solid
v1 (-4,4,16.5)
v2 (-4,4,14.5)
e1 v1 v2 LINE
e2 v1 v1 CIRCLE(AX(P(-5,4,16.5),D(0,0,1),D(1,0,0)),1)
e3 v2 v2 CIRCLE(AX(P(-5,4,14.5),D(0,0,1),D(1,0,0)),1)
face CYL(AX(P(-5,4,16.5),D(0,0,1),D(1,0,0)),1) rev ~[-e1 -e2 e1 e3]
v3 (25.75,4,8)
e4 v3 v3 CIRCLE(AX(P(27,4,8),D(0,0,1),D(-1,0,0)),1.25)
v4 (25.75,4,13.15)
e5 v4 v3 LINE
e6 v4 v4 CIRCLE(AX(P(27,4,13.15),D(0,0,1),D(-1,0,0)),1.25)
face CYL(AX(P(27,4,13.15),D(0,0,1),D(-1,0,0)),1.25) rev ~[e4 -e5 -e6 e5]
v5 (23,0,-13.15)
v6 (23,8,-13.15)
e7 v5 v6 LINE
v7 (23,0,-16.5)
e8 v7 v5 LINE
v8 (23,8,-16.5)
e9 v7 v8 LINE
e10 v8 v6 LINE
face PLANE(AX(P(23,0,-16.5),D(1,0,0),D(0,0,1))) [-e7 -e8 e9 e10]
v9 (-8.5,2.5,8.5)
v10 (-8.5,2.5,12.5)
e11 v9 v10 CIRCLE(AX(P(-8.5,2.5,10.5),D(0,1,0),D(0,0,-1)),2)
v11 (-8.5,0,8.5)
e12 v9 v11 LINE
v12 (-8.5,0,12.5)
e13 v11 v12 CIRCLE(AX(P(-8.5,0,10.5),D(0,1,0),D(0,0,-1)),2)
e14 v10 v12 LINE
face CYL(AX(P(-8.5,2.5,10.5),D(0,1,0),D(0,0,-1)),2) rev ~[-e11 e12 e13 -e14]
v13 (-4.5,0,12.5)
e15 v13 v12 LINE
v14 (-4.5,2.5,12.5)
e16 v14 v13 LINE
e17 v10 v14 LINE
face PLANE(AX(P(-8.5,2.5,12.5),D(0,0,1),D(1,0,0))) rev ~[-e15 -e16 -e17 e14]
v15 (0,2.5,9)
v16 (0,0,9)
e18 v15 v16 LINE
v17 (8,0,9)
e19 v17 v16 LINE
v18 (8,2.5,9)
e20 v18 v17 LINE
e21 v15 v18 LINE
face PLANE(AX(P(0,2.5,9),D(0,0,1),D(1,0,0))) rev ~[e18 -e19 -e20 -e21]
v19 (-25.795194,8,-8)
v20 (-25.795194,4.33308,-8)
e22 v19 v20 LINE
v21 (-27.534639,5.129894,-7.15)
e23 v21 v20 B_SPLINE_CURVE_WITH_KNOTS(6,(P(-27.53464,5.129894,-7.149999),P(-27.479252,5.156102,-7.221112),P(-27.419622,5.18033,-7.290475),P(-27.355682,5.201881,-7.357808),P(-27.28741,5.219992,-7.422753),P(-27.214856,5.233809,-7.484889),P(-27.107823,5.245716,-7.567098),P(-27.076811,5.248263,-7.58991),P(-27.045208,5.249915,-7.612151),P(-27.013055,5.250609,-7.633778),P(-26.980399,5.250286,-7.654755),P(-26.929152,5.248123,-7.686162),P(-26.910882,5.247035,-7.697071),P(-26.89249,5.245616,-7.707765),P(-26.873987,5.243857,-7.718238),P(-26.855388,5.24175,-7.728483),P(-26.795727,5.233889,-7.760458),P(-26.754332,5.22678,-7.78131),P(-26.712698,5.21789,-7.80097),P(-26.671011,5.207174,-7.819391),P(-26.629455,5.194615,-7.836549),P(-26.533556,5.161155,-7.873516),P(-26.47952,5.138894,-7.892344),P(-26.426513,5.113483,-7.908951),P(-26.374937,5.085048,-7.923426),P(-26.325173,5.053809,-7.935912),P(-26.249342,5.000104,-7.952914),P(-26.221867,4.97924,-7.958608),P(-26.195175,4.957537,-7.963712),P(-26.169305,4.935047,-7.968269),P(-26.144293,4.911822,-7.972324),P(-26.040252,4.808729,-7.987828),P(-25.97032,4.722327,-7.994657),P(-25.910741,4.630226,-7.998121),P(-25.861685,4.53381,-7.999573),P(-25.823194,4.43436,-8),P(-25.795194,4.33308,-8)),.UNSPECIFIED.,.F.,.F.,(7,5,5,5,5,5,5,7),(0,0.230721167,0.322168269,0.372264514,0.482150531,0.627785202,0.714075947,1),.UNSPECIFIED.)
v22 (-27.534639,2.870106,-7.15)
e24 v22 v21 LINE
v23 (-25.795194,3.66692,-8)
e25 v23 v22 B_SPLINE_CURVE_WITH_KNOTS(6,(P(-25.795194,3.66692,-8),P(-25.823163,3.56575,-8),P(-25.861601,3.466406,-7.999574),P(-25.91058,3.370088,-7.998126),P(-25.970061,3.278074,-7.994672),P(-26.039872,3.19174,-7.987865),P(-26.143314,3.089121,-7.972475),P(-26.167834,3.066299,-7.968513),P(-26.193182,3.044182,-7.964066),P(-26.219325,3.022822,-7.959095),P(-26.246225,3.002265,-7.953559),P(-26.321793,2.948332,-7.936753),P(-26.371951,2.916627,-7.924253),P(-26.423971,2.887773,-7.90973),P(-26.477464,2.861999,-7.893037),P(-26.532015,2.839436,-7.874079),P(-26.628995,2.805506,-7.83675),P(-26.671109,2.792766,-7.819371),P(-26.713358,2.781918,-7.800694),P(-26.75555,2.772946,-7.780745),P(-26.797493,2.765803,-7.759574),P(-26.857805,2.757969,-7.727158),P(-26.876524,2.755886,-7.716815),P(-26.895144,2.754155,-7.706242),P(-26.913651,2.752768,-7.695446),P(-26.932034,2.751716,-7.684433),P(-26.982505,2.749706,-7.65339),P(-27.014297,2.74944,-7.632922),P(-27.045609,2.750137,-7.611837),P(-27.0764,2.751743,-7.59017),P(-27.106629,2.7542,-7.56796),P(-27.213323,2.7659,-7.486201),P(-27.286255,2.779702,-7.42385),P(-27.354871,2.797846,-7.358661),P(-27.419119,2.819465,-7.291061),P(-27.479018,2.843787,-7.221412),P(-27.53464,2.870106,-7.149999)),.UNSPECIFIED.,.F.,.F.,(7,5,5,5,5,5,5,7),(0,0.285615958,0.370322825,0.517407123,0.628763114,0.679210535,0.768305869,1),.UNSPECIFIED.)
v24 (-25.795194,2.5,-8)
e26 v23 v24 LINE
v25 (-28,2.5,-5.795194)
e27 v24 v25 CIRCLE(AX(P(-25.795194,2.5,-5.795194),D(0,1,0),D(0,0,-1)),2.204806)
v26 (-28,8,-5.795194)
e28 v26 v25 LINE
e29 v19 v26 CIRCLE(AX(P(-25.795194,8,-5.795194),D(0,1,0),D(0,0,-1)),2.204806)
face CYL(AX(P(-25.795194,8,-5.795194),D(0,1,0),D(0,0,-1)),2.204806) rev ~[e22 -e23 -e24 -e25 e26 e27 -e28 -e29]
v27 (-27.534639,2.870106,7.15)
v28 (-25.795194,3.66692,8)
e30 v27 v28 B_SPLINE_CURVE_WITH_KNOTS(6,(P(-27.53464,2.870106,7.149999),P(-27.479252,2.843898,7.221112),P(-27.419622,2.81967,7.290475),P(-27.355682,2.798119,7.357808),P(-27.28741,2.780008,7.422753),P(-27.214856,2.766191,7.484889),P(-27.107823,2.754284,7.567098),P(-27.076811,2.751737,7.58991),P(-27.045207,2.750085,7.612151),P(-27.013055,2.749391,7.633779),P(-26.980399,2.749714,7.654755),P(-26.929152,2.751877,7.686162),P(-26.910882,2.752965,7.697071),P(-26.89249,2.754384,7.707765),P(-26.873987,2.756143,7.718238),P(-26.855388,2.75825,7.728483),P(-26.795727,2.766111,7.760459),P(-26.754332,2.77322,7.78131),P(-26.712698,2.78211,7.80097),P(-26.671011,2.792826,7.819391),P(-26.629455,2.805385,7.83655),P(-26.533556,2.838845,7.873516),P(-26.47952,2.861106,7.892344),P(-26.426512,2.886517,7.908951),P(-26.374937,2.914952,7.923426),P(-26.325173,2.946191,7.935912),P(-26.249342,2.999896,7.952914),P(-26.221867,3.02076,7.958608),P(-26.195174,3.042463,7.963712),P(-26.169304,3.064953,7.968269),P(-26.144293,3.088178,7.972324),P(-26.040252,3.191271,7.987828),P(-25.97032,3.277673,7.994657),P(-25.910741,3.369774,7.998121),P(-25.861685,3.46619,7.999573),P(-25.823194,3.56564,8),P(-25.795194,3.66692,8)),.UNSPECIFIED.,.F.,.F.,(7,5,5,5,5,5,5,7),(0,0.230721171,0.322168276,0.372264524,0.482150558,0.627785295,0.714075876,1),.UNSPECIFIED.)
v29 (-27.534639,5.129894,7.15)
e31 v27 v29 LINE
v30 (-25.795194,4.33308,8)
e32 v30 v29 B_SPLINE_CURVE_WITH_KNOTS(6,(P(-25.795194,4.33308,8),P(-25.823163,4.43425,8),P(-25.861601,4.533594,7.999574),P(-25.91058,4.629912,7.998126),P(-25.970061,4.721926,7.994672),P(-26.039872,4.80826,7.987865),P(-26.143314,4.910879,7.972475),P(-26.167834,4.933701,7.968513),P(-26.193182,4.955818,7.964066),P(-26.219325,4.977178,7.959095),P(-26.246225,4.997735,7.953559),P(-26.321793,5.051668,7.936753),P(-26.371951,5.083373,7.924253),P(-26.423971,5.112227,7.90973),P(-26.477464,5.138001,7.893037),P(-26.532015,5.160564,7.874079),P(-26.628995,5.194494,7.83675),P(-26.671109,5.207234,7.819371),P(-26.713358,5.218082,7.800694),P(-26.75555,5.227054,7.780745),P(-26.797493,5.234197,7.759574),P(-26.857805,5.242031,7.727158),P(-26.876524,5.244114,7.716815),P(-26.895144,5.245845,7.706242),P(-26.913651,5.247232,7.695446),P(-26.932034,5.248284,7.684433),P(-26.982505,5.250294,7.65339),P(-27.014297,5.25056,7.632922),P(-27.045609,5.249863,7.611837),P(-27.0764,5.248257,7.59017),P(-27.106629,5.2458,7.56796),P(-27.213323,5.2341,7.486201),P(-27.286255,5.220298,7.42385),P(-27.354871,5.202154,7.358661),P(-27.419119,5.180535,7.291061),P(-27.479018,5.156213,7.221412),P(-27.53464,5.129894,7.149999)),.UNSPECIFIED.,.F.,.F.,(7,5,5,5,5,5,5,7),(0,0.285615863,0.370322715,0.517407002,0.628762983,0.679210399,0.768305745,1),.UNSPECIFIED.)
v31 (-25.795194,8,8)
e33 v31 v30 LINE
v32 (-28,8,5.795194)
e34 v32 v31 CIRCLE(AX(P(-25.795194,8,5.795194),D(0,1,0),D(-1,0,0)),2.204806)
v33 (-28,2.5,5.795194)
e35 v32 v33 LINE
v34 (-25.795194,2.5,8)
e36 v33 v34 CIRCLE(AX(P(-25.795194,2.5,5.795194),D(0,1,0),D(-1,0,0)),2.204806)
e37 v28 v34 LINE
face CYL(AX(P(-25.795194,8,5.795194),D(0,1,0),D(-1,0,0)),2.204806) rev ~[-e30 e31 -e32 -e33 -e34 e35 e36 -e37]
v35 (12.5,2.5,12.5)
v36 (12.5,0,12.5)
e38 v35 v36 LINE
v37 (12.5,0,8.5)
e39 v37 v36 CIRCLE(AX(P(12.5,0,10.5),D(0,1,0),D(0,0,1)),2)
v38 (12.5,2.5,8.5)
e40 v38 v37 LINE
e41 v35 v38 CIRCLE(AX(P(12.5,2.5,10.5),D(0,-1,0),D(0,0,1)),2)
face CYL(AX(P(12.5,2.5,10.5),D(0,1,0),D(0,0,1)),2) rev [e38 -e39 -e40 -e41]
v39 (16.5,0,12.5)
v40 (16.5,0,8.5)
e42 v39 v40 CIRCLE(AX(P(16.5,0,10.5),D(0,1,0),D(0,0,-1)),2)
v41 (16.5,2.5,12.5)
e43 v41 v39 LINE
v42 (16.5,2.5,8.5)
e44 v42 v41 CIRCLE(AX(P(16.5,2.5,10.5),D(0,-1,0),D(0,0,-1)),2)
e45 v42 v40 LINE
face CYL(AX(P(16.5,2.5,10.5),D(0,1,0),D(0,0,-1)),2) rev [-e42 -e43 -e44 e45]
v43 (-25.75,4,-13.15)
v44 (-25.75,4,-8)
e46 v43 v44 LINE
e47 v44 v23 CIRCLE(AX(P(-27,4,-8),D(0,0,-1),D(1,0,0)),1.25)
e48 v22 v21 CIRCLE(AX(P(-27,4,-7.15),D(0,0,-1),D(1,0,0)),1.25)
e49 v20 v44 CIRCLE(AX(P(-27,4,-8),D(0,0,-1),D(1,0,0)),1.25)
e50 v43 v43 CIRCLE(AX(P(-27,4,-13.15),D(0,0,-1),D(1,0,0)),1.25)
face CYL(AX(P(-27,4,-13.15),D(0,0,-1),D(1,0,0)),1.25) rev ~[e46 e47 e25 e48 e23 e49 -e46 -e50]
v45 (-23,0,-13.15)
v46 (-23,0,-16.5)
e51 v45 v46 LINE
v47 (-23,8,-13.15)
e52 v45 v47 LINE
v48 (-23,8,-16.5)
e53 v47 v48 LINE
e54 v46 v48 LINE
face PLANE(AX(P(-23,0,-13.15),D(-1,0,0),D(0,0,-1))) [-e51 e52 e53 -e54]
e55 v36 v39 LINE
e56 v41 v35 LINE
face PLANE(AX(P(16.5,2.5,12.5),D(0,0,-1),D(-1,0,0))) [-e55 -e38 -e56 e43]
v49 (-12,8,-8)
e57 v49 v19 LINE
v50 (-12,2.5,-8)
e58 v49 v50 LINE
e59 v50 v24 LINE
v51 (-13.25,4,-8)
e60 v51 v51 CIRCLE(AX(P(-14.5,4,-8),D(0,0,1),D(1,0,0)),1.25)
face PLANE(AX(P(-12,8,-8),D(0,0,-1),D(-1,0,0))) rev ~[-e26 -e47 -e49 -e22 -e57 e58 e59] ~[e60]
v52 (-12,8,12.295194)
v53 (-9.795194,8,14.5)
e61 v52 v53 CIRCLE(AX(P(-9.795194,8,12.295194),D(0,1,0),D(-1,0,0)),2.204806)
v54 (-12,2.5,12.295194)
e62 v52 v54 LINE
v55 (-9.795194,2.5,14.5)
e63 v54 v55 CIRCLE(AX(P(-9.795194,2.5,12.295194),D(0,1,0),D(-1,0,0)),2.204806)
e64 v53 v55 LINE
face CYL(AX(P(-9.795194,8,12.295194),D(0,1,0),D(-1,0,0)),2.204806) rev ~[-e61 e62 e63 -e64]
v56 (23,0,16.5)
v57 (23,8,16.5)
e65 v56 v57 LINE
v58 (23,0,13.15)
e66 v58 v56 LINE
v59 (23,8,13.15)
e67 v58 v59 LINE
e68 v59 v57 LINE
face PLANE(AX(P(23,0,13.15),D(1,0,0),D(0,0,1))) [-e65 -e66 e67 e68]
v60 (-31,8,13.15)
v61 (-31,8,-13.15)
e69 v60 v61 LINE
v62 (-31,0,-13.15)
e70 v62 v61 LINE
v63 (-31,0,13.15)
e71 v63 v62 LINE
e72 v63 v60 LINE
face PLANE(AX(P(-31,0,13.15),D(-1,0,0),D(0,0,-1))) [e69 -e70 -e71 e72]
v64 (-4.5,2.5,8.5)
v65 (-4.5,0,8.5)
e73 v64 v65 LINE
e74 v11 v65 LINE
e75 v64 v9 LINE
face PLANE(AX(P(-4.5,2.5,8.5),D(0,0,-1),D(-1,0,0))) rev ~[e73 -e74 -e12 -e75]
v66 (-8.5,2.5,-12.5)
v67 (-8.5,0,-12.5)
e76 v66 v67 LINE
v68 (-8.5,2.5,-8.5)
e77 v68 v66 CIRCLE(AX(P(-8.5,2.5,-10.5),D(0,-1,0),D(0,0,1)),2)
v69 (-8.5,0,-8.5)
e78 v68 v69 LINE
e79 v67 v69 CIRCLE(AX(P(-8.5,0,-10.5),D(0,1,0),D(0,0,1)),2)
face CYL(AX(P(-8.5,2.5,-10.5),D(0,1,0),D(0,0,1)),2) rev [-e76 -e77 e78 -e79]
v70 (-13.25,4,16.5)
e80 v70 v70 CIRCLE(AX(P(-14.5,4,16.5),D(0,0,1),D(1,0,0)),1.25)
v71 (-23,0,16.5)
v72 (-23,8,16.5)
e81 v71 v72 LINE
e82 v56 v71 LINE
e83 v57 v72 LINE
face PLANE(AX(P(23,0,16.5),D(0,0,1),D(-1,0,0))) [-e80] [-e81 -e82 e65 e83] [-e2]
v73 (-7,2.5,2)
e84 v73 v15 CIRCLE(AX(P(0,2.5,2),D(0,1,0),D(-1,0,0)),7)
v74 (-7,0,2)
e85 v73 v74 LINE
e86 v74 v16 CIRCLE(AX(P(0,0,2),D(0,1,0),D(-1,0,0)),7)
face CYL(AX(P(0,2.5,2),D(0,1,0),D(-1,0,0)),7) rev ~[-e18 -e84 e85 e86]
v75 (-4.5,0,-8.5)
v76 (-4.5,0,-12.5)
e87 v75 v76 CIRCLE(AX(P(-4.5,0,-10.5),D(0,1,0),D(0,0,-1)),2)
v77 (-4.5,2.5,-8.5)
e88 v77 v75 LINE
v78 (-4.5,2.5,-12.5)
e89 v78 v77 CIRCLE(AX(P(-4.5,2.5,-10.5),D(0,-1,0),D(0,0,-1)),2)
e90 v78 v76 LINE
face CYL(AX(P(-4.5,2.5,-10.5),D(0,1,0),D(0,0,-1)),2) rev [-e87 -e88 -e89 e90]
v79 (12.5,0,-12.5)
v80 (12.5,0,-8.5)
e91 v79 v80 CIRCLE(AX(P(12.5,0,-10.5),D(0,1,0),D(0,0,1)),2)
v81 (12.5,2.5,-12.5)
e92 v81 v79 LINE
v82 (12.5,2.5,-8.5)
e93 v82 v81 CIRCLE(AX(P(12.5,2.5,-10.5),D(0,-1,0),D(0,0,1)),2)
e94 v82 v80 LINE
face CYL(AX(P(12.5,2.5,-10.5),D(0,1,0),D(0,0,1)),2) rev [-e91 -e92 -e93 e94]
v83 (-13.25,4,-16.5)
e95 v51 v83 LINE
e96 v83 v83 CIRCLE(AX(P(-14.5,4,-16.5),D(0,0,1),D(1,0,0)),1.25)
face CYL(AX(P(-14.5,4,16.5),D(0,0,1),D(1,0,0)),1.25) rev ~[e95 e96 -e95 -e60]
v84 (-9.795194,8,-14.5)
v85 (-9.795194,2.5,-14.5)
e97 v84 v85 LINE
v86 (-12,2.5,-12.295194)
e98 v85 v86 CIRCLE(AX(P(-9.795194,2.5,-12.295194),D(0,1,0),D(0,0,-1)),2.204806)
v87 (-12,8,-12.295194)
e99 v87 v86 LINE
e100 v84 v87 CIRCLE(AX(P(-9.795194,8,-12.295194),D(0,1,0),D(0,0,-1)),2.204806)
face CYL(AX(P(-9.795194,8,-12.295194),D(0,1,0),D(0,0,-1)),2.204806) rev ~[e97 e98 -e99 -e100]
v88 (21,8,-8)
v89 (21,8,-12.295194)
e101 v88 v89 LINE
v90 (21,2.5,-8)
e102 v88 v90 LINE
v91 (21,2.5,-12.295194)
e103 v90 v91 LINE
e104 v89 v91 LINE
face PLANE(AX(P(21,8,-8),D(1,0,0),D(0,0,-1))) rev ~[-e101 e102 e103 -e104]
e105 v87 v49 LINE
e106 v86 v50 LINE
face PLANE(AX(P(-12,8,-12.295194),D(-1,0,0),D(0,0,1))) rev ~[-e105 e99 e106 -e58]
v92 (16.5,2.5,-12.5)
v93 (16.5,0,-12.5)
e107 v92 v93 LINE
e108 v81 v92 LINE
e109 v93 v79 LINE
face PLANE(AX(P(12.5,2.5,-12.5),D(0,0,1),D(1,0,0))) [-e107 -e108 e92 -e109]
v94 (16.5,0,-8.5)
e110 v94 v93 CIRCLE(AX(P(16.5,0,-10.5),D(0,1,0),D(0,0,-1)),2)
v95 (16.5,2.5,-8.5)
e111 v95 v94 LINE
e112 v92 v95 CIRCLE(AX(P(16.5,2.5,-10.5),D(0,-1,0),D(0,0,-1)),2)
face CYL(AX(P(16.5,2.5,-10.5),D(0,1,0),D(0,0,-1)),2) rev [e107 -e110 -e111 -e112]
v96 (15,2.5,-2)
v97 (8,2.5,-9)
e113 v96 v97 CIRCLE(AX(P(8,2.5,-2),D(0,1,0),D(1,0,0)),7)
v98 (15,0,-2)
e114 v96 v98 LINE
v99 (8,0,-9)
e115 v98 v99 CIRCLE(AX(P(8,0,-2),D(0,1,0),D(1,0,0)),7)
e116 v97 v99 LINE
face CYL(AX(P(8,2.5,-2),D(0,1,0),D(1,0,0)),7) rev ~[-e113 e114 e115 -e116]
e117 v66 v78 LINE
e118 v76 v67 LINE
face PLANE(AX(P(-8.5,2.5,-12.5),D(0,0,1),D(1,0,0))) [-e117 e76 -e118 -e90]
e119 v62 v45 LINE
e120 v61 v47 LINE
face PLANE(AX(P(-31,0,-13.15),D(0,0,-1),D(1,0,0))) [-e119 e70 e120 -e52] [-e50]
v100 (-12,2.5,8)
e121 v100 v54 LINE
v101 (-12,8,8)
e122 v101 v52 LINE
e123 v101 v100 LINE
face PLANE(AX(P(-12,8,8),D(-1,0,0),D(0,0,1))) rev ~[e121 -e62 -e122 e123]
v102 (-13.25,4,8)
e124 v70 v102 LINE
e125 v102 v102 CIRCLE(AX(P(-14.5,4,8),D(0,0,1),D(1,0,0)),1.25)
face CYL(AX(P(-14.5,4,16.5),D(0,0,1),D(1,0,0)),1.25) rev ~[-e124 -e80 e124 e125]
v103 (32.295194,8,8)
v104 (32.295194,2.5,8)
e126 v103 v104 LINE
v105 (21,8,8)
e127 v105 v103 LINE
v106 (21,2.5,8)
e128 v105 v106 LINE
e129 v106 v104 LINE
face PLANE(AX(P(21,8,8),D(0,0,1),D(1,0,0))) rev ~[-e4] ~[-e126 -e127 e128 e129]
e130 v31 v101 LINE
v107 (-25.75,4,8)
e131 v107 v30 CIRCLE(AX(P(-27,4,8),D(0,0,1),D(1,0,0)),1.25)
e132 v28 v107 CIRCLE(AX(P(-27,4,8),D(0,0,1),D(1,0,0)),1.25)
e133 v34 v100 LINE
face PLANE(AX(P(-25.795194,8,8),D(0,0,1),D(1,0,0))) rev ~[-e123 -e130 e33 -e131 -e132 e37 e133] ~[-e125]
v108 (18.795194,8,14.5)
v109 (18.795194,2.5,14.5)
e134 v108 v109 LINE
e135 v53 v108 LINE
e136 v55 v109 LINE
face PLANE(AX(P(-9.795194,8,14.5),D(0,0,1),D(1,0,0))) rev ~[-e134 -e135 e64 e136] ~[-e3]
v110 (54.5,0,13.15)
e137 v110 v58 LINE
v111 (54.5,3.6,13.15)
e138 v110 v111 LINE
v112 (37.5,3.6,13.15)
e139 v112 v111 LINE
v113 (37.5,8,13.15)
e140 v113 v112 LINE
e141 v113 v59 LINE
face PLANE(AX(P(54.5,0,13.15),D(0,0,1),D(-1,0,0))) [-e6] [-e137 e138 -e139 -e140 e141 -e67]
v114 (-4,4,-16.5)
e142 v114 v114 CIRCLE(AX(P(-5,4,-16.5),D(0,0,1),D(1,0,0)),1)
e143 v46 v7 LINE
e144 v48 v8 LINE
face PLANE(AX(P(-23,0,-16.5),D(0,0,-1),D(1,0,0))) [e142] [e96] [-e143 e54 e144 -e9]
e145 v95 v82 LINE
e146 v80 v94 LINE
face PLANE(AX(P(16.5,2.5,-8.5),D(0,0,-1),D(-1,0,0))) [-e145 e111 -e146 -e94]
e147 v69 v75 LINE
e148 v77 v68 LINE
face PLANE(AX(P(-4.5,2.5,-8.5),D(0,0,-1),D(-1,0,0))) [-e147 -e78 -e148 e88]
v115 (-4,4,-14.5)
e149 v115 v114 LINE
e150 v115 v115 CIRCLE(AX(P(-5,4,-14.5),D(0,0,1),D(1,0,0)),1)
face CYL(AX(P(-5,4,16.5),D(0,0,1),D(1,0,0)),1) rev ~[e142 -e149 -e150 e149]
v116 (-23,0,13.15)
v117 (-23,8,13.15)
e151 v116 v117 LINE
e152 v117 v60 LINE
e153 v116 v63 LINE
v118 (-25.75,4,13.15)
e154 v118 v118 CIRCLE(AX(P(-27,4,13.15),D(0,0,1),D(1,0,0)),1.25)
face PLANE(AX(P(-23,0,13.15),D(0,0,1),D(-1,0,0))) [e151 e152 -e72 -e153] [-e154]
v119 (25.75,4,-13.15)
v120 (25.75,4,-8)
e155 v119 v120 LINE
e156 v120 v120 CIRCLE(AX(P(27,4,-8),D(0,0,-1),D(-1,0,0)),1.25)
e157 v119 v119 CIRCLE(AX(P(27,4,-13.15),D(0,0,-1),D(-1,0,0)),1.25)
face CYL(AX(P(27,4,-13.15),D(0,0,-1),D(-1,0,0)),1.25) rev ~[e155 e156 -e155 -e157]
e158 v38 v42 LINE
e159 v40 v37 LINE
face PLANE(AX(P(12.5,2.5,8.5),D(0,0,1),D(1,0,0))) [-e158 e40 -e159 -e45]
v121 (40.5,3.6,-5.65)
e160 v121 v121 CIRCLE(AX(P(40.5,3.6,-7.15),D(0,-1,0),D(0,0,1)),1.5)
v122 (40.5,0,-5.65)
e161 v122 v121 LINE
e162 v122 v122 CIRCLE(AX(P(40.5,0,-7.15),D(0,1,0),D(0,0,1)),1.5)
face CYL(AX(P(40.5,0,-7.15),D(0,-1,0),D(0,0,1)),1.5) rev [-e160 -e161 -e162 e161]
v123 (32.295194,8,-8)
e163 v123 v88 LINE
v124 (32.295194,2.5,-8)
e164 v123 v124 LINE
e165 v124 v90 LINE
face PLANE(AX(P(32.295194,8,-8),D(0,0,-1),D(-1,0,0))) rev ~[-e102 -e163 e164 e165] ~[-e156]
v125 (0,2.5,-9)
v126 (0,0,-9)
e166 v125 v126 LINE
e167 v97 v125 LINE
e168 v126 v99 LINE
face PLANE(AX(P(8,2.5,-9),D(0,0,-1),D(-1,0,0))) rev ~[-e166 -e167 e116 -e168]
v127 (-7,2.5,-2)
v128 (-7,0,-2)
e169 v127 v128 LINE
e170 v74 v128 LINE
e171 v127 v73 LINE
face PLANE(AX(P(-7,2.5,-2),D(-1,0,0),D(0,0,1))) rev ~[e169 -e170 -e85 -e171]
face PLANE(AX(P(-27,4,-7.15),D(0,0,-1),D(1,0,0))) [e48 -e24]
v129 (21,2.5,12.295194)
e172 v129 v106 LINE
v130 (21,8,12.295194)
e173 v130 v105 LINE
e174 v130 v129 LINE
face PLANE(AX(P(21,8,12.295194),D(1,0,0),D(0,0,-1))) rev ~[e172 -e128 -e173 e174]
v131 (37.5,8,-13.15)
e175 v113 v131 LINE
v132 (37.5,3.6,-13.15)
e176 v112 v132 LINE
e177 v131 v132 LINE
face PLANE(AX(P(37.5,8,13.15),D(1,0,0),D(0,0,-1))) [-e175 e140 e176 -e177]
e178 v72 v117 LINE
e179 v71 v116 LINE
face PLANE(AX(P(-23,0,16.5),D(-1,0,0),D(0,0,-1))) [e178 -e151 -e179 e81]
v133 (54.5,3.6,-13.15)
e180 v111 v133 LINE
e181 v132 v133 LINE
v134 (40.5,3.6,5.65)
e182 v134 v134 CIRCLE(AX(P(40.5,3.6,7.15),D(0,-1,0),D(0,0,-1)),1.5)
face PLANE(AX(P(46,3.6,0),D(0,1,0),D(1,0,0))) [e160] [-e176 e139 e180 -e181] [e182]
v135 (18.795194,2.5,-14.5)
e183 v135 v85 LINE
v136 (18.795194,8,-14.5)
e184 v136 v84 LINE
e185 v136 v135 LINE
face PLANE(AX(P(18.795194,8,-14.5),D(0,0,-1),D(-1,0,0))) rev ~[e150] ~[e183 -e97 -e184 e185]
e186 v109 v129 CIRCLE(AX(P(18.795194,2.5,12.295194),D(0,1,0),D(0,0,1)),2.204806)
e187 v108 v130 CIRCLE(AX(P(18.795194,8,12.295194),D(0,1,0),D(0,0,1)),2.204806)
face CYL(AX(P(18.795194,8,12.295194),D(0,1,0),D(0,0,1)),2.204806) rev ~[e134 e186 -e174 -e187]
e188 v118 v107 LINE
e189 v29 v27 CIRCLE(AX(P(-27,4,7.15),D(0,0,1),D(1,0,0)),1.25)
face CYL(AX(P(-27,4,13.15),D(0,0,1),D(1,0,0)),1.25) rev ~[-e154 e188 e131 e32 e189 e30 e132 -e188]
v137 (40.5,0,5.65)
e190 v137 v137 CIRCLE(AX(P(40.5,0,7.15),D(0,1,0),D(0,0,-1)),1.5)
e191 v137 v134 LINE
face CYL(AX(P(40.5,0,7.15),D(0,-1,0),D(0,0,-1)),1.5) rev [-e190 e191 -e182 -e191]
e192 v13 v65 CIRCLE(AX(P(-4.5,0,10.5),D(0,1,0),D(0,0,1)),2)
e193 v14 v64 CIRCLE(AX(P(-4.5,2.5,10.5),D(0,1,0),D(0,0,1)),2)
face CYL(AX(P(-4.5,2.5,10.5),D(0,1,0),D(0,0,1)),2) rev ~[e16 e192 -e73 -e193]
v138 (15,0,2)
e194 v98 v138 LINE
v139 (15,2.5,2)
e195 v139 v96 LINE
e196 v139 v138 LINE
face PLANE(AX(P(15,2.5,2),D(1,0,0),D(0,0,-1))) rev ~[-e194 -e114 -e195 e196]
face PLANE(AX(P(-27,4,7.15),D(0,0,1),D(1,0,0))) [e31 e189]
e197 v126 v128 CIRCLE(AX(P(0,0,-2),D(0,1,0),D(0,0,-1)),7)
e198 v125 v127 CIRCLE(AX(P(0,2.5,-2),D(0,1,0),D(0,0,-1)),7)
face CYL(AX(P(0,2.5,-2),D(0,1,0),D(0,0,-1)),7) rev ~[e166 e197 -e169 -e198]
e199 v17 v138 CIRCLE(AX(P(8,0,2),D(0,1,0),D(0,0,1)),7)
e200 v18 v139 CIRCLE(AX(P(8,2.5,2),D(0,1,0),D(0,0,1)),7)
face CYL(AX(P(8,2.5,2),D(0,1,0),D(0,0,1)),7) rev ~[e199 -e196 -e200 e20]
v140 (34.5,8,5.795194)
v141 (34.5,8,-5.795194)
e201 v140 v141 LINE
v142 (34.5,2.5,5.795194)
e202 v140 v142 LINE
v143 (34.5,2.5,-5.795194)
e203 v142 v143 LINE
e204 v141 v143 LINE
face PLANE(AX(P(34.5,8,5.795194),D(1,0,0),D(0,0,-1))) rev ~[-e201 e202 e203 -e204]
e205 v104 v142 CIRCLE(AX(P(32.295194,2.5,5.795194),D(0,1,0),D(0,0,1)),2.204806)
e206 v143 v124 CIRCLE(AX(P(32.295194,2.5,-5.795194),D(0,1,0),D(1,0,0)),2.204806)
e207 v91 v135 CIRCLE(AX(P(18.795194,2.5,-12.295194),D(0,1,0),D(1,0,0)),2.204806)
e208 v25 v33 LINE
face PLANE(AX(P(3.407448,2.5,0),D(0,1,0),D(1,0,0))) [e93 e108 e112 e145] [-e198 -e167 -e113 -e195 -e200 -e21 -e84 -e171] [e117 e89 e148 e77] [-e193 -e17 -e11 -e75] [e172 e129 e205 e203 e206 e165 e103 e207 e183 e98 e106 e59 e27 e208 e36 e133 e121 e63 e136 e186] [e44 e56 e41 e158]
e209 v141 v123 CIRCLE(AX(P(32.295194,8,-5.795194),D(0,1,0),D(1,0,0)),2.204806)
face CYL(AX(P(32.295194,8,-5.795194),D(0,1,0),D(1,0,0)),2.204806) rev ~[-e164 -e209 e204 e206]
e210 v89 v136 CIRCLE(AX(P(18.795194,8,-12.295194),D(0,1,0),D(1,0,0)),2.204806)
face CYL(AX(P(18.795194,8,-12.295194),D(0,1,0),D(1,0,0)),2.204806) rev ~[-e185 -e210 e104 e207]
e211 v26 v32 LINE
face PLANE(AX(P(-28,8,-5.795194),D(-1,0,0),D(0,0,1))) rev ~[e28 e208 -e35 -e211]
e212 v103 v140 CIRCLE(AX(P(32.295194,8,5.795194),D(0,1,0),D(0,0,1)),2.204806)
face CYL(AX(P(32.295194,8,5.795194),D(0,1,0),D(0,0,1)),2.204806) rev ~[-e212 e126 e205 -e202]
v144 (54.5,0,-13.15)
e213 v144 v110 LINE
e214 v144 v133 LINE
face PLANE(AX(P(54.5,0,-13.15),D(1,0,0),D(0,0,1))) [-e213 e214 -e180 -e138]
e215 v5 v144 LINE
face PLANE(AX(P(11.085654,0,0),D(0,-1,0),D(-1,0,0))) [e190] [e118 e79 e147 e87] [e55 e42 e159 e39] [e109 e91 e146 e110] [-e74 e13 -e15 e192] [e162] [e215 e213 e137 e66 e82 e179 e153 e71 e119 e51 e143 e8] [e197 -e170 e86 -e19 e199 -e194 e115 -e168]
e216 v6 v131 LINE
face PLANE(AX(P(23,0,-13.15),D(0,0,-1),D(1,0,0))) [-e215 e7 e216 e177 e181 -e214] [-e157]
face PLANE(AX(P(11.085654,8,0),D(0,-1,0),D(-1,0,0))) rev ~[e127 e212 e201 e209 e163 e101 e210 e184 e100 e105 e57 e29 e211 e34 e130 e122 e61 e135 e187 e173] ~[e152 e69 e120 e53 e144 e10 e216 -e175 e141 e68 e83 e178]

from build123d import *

# Parameters (mm, degrees)
SKETCH_1_R           = 1.5
EXTRUDE_1_DEPTH      = 8
SKETCH_2_W           = 17
SKETCH_2_H           = 26.3
CUT_EXTRUDE_1_DEPTH  = 4.4
CUT_EXTRUDE_3_DEPTH  = 5.5
CUT_EXTRUDE_4_DEPTH  = 3.5
CUT_EXTRUDE_5_DEPTH  = 3.5
SKETCH_9_R           = 1.25
CUT_EXTRUDE_6_DEPTH  = 6
SKETCH_10_R          = 1.25
CUT_EXTRUDE_7_DEPTH  = 6
SKETCH_11_R          = 1.25
CUT_EXTRUDE_8_DEPTH  = 6
SKETCH_12_R          = 1.25
CUT_EXTRUDE_9_DEPTH  = 6
SKETCH_13_R          = 1
SKETCH_13_R_2        = 1.25
CUT_EXTRUDE_10_DEPTH = 46


with BuildPart() as part:
    # Эскиз1 → Бобышка-Вытянуть1 (new body)
    with BuildSketch(Plane(origin=(0, 0, 0), x_dir=(1, 0, 0), z_dir=(0, 1, 0))):
        Polygon((-23, 16.5), (23, 16.5), (23, 13.15), (54.5, 13.15), (54.5, -13.15), (23, -13.15), (23, -16.5), (-23, -16.5), (-23, -13.15), (-31, -13.15), (-31, 13.15), (-23, 13.15), align=None)
        with Locations(Location((40.5, 7.15, 0), (0, 0, 270))):  # turned: the seam where the file's is
            Circle(SKETCH_1_R, mode=Mode.SUBTRACT)
        with Locations(Location((40.5, -7.15, 0), (0, 0, 90))):  # turned: the seam where the file's is
            Circle(SKETCH_1_R, mode=Mode.SUBTRACT)
    extrude(amount=EXTRUDE_1_DEPTH)

    # Эскиз2 → Вырез-Вытянуть1 (cut)
    with BuildSketch(Plane(origin=(0, 8, 0), x_dir=(1, 0, 0), z_dir=(0, 1, 0))):
        with Locations((46, 0)):
            Rectangle(SKETCH_2_W, SKETCH_2_H)
    extrude(amount=-CUT_EXTRUDE_1_DEPTH, mode=Mode.SUBTRACT)

    # Эскиз3 → Вырез-Вытянуть3 (cut)
    with BuildSketch(Plane(origin=(0, 8, 0), x_dir=(1, 0, 0), z_dir=(0, 1, 0))):
        with BuildLine():
            Line((-25.795194039, -8), (-12, -8))
            Line((-12, -8), (-12, -12.295194039))
            ThreePointArc((-12, -12.295194039), (-11.354227285, -13.854227285), (-9.795194039, -14.5))
            Line((-9.795194039, -14.5), (18.795194039, -14.5))
            ThreePointArc((18.795194039, -14.5), (20.354227285, -13.854227285), (21, -12.295194039))
            Line((21, -12.295194039), (21, -8))
            Line((21, -8), (32.295194039, -8))
            ThreePointArc((32.295194039, -8), (33.854227285, -7.354227285), (34.5, -5.795194039))
            Line((34.5, -5.795194039), (34.5, 5.795194039))
            ThreePointArc((34.5, 5.795194039), (33.854227285, 7.354227285), (32.295194039, 8))
            Line((32.295194039, 8), (21, 8))
            Line((21, 8), (21, 12.295194039))
            ThreePointArc((21, 12.295194039), (20.354227285, 13.854227285), (18.795194039, 14.5))
            Line((18.795194039, 14.5), (-9.795194039, 14.5))
            ThreePointArc((-9.795194039, 14.5), (-11.354227285, 13.854227285), (-12, 12.295194039))
            Line((-12, 12.295194039), (-12, 8))
            Line((-12, 8), (-25.795194039, 8))
            ThreePointArc((-25.795194039, 8), (-27.354227285, 7.354227285), (-28, 5.795194039))
            Line((-28, 5.795194039), (-28, -5.795194039))
            ThreePointArc((-28, -5.795194039), (-27.354227285, -7.354227285), (-25.795194039, -8))
        make_face()
    extrude(amount=-CUT_EXTRUDE_3_DEPTH, mode=Mode.SUBTRACT)

    # Эскиз6 → Вырез-Вытянуть4 (cut, through all)
    with BuildSketch(Plane(origin=(0, 2.5, 0), x_dir=(1, 0, 0), z_dir=(0, 1, 0))):
        with BuildLine():
            Line((-7, 2), (-7, -2))
            ThreePointArc((-7, -2), (-4.949747468, -6.949747468), (0, -9))
            Line((0, -9), (8, -9))
            ThreePointArc((8, -9), (12.949747468, -6.949747468), (15, -2))
            Line((15, -2), (15, 2))
            ThreePointArc((15, 2), (12.949747468, 6.949747468), (8, 9))
            Line((8, 9), (0, 9))
            ThreePointArc((0, 9), (-4.949747468, 6.949747468), (-7, 2))
        make_face()
    extrude(amount=-CUT_EXTRUDE_4_DEPTH, mode=Mode.SUBTRACT)

    # Эскиз7 → Вырез-Вытянуть5 (cut, through all)
    with BuildSketch(Plane(origin=(0, 2.5, 0), x_dir=(1, 0, 0), z_dir=(0, 1, 0))):
        with BuildLine():
            Line((12.5, 12.5), (16.5, 12.5))
            ThreePointArc((16.5, 12.5), (18.5, 10.5), (16.5, 8.5))
            Line((16.5, 8.5), (12.5, 8.5))
            ThreePointArc((12.5, 8.5), (10.5, 10.5), (12.5, 12.5))
        make_face()
        with BuildLine():
            Line((-4.5, 8.5), (-8.5, 8.5))
            ThreePointArc((-8.5, 8.5), (-10.5, 10.5), (-8.5, 12.5))
            Line((-8.5, 12.5), (-4.5, 12.5))
            ThreePointArc((-4.5, 12.5), (-2.5, 10.5), (-4.5, 8.5))
        make_face()
        with BuildLine():
            Line((12.5, -8.5), (16.5, -8.5))
            ThreePointArc((16.5, -8.5), (18.5, -10.5), (16.5, -12.5))
            Line((16.5, -12.5), (12.5, -12.5))
            ThreePointArc((12.5, -12.5), (10.5, -10.5), (12.5, -8.5))
        make_face()
        with BuildLine():
            Line((-4.5, -8.5), (-8.5, -8.5))
            ThreePointArc((-8.5, -8.5), (-10.5, -10.5), (-8.5, -12.5))
            Line((-8.5, -12.5), (-4.5, -12.5))
            ThreePointArc((-4.5, -12.5), (-2.5, -10.5), (-4.5, -8.5))
        make_face()
    extrude(amount=-CUT_EXTRUDE_5_DEPTH, mode=Mode.SUBTRACT)

    # Эскиз9 → Вырез-Вытянуть6 (cut)
    with BuildSketch(Plane.XY.offset(13.15)):
        with Locations((-27, 4)):
            Circle(SKETCH_9_R)
    extrude(amount=-CUT_EXTRUDE_6_DEPTH, mode=Mode.SUBTRACT)

    # Эскиз10 → Вырез-Вытянуть7 (cut)
    with BuildSketch(Plane(origin=(0, 0, -13.15), x_dir=(-1, 0, 0), z_dir=(0, 0, -1))):
        with Locations(Location((27, 4, 0), (0, 0, 180))):  # turned: the seam where the file's is
            Circle(SKETCH_10_R)
    extrude(amount=-CUT_EXTRUDE_7_DEPTH, mode=Mode.SUBTRACT)

    # Эскиз11 → Вырез-Вытянуть8 (cut)
    with BuildSketch(Plane(origin=(0, 0, -13.15), x_dir=(-1, 0, 0), z_dir=(0, 0, -1))):
        with Locations((-27, 4)):
            Circle(SKETCH_11_R)
    extrude(amount=-CUT_EXTRUDE_8_DEPTH, mode=Mode.SUBTRACT)

    # Эскиз12 → Вырез-Вытянуть9 (cut)
    with BuildSketch(Plane.XY.offset(13.15)):
        with Locations(Location((27, 4, 0), (0, 0, 180))):  # turned: the seam where the file's is
            Circle(SKETCH_12_R)
    extrude(amount=-CUT_EXTRUDE_9_DEPTH, mode=Mode.SUBTRACT)

    # Эскиз13 → Вырез-Вытянуть10 (cut)
    with BuildSketch(Plane.XY.offset(16.5)):
        with Locations((-5, 4)):
            Circle(SKETCH_13_R)
        with Locations((-14.5, 4)):
            Circle(SKETCH_13_R_2)
    extrude(amount=-CUT_EXTRUDE_10_DEPTH, mode=Mode.SUBTRACT)


solid = part.part
